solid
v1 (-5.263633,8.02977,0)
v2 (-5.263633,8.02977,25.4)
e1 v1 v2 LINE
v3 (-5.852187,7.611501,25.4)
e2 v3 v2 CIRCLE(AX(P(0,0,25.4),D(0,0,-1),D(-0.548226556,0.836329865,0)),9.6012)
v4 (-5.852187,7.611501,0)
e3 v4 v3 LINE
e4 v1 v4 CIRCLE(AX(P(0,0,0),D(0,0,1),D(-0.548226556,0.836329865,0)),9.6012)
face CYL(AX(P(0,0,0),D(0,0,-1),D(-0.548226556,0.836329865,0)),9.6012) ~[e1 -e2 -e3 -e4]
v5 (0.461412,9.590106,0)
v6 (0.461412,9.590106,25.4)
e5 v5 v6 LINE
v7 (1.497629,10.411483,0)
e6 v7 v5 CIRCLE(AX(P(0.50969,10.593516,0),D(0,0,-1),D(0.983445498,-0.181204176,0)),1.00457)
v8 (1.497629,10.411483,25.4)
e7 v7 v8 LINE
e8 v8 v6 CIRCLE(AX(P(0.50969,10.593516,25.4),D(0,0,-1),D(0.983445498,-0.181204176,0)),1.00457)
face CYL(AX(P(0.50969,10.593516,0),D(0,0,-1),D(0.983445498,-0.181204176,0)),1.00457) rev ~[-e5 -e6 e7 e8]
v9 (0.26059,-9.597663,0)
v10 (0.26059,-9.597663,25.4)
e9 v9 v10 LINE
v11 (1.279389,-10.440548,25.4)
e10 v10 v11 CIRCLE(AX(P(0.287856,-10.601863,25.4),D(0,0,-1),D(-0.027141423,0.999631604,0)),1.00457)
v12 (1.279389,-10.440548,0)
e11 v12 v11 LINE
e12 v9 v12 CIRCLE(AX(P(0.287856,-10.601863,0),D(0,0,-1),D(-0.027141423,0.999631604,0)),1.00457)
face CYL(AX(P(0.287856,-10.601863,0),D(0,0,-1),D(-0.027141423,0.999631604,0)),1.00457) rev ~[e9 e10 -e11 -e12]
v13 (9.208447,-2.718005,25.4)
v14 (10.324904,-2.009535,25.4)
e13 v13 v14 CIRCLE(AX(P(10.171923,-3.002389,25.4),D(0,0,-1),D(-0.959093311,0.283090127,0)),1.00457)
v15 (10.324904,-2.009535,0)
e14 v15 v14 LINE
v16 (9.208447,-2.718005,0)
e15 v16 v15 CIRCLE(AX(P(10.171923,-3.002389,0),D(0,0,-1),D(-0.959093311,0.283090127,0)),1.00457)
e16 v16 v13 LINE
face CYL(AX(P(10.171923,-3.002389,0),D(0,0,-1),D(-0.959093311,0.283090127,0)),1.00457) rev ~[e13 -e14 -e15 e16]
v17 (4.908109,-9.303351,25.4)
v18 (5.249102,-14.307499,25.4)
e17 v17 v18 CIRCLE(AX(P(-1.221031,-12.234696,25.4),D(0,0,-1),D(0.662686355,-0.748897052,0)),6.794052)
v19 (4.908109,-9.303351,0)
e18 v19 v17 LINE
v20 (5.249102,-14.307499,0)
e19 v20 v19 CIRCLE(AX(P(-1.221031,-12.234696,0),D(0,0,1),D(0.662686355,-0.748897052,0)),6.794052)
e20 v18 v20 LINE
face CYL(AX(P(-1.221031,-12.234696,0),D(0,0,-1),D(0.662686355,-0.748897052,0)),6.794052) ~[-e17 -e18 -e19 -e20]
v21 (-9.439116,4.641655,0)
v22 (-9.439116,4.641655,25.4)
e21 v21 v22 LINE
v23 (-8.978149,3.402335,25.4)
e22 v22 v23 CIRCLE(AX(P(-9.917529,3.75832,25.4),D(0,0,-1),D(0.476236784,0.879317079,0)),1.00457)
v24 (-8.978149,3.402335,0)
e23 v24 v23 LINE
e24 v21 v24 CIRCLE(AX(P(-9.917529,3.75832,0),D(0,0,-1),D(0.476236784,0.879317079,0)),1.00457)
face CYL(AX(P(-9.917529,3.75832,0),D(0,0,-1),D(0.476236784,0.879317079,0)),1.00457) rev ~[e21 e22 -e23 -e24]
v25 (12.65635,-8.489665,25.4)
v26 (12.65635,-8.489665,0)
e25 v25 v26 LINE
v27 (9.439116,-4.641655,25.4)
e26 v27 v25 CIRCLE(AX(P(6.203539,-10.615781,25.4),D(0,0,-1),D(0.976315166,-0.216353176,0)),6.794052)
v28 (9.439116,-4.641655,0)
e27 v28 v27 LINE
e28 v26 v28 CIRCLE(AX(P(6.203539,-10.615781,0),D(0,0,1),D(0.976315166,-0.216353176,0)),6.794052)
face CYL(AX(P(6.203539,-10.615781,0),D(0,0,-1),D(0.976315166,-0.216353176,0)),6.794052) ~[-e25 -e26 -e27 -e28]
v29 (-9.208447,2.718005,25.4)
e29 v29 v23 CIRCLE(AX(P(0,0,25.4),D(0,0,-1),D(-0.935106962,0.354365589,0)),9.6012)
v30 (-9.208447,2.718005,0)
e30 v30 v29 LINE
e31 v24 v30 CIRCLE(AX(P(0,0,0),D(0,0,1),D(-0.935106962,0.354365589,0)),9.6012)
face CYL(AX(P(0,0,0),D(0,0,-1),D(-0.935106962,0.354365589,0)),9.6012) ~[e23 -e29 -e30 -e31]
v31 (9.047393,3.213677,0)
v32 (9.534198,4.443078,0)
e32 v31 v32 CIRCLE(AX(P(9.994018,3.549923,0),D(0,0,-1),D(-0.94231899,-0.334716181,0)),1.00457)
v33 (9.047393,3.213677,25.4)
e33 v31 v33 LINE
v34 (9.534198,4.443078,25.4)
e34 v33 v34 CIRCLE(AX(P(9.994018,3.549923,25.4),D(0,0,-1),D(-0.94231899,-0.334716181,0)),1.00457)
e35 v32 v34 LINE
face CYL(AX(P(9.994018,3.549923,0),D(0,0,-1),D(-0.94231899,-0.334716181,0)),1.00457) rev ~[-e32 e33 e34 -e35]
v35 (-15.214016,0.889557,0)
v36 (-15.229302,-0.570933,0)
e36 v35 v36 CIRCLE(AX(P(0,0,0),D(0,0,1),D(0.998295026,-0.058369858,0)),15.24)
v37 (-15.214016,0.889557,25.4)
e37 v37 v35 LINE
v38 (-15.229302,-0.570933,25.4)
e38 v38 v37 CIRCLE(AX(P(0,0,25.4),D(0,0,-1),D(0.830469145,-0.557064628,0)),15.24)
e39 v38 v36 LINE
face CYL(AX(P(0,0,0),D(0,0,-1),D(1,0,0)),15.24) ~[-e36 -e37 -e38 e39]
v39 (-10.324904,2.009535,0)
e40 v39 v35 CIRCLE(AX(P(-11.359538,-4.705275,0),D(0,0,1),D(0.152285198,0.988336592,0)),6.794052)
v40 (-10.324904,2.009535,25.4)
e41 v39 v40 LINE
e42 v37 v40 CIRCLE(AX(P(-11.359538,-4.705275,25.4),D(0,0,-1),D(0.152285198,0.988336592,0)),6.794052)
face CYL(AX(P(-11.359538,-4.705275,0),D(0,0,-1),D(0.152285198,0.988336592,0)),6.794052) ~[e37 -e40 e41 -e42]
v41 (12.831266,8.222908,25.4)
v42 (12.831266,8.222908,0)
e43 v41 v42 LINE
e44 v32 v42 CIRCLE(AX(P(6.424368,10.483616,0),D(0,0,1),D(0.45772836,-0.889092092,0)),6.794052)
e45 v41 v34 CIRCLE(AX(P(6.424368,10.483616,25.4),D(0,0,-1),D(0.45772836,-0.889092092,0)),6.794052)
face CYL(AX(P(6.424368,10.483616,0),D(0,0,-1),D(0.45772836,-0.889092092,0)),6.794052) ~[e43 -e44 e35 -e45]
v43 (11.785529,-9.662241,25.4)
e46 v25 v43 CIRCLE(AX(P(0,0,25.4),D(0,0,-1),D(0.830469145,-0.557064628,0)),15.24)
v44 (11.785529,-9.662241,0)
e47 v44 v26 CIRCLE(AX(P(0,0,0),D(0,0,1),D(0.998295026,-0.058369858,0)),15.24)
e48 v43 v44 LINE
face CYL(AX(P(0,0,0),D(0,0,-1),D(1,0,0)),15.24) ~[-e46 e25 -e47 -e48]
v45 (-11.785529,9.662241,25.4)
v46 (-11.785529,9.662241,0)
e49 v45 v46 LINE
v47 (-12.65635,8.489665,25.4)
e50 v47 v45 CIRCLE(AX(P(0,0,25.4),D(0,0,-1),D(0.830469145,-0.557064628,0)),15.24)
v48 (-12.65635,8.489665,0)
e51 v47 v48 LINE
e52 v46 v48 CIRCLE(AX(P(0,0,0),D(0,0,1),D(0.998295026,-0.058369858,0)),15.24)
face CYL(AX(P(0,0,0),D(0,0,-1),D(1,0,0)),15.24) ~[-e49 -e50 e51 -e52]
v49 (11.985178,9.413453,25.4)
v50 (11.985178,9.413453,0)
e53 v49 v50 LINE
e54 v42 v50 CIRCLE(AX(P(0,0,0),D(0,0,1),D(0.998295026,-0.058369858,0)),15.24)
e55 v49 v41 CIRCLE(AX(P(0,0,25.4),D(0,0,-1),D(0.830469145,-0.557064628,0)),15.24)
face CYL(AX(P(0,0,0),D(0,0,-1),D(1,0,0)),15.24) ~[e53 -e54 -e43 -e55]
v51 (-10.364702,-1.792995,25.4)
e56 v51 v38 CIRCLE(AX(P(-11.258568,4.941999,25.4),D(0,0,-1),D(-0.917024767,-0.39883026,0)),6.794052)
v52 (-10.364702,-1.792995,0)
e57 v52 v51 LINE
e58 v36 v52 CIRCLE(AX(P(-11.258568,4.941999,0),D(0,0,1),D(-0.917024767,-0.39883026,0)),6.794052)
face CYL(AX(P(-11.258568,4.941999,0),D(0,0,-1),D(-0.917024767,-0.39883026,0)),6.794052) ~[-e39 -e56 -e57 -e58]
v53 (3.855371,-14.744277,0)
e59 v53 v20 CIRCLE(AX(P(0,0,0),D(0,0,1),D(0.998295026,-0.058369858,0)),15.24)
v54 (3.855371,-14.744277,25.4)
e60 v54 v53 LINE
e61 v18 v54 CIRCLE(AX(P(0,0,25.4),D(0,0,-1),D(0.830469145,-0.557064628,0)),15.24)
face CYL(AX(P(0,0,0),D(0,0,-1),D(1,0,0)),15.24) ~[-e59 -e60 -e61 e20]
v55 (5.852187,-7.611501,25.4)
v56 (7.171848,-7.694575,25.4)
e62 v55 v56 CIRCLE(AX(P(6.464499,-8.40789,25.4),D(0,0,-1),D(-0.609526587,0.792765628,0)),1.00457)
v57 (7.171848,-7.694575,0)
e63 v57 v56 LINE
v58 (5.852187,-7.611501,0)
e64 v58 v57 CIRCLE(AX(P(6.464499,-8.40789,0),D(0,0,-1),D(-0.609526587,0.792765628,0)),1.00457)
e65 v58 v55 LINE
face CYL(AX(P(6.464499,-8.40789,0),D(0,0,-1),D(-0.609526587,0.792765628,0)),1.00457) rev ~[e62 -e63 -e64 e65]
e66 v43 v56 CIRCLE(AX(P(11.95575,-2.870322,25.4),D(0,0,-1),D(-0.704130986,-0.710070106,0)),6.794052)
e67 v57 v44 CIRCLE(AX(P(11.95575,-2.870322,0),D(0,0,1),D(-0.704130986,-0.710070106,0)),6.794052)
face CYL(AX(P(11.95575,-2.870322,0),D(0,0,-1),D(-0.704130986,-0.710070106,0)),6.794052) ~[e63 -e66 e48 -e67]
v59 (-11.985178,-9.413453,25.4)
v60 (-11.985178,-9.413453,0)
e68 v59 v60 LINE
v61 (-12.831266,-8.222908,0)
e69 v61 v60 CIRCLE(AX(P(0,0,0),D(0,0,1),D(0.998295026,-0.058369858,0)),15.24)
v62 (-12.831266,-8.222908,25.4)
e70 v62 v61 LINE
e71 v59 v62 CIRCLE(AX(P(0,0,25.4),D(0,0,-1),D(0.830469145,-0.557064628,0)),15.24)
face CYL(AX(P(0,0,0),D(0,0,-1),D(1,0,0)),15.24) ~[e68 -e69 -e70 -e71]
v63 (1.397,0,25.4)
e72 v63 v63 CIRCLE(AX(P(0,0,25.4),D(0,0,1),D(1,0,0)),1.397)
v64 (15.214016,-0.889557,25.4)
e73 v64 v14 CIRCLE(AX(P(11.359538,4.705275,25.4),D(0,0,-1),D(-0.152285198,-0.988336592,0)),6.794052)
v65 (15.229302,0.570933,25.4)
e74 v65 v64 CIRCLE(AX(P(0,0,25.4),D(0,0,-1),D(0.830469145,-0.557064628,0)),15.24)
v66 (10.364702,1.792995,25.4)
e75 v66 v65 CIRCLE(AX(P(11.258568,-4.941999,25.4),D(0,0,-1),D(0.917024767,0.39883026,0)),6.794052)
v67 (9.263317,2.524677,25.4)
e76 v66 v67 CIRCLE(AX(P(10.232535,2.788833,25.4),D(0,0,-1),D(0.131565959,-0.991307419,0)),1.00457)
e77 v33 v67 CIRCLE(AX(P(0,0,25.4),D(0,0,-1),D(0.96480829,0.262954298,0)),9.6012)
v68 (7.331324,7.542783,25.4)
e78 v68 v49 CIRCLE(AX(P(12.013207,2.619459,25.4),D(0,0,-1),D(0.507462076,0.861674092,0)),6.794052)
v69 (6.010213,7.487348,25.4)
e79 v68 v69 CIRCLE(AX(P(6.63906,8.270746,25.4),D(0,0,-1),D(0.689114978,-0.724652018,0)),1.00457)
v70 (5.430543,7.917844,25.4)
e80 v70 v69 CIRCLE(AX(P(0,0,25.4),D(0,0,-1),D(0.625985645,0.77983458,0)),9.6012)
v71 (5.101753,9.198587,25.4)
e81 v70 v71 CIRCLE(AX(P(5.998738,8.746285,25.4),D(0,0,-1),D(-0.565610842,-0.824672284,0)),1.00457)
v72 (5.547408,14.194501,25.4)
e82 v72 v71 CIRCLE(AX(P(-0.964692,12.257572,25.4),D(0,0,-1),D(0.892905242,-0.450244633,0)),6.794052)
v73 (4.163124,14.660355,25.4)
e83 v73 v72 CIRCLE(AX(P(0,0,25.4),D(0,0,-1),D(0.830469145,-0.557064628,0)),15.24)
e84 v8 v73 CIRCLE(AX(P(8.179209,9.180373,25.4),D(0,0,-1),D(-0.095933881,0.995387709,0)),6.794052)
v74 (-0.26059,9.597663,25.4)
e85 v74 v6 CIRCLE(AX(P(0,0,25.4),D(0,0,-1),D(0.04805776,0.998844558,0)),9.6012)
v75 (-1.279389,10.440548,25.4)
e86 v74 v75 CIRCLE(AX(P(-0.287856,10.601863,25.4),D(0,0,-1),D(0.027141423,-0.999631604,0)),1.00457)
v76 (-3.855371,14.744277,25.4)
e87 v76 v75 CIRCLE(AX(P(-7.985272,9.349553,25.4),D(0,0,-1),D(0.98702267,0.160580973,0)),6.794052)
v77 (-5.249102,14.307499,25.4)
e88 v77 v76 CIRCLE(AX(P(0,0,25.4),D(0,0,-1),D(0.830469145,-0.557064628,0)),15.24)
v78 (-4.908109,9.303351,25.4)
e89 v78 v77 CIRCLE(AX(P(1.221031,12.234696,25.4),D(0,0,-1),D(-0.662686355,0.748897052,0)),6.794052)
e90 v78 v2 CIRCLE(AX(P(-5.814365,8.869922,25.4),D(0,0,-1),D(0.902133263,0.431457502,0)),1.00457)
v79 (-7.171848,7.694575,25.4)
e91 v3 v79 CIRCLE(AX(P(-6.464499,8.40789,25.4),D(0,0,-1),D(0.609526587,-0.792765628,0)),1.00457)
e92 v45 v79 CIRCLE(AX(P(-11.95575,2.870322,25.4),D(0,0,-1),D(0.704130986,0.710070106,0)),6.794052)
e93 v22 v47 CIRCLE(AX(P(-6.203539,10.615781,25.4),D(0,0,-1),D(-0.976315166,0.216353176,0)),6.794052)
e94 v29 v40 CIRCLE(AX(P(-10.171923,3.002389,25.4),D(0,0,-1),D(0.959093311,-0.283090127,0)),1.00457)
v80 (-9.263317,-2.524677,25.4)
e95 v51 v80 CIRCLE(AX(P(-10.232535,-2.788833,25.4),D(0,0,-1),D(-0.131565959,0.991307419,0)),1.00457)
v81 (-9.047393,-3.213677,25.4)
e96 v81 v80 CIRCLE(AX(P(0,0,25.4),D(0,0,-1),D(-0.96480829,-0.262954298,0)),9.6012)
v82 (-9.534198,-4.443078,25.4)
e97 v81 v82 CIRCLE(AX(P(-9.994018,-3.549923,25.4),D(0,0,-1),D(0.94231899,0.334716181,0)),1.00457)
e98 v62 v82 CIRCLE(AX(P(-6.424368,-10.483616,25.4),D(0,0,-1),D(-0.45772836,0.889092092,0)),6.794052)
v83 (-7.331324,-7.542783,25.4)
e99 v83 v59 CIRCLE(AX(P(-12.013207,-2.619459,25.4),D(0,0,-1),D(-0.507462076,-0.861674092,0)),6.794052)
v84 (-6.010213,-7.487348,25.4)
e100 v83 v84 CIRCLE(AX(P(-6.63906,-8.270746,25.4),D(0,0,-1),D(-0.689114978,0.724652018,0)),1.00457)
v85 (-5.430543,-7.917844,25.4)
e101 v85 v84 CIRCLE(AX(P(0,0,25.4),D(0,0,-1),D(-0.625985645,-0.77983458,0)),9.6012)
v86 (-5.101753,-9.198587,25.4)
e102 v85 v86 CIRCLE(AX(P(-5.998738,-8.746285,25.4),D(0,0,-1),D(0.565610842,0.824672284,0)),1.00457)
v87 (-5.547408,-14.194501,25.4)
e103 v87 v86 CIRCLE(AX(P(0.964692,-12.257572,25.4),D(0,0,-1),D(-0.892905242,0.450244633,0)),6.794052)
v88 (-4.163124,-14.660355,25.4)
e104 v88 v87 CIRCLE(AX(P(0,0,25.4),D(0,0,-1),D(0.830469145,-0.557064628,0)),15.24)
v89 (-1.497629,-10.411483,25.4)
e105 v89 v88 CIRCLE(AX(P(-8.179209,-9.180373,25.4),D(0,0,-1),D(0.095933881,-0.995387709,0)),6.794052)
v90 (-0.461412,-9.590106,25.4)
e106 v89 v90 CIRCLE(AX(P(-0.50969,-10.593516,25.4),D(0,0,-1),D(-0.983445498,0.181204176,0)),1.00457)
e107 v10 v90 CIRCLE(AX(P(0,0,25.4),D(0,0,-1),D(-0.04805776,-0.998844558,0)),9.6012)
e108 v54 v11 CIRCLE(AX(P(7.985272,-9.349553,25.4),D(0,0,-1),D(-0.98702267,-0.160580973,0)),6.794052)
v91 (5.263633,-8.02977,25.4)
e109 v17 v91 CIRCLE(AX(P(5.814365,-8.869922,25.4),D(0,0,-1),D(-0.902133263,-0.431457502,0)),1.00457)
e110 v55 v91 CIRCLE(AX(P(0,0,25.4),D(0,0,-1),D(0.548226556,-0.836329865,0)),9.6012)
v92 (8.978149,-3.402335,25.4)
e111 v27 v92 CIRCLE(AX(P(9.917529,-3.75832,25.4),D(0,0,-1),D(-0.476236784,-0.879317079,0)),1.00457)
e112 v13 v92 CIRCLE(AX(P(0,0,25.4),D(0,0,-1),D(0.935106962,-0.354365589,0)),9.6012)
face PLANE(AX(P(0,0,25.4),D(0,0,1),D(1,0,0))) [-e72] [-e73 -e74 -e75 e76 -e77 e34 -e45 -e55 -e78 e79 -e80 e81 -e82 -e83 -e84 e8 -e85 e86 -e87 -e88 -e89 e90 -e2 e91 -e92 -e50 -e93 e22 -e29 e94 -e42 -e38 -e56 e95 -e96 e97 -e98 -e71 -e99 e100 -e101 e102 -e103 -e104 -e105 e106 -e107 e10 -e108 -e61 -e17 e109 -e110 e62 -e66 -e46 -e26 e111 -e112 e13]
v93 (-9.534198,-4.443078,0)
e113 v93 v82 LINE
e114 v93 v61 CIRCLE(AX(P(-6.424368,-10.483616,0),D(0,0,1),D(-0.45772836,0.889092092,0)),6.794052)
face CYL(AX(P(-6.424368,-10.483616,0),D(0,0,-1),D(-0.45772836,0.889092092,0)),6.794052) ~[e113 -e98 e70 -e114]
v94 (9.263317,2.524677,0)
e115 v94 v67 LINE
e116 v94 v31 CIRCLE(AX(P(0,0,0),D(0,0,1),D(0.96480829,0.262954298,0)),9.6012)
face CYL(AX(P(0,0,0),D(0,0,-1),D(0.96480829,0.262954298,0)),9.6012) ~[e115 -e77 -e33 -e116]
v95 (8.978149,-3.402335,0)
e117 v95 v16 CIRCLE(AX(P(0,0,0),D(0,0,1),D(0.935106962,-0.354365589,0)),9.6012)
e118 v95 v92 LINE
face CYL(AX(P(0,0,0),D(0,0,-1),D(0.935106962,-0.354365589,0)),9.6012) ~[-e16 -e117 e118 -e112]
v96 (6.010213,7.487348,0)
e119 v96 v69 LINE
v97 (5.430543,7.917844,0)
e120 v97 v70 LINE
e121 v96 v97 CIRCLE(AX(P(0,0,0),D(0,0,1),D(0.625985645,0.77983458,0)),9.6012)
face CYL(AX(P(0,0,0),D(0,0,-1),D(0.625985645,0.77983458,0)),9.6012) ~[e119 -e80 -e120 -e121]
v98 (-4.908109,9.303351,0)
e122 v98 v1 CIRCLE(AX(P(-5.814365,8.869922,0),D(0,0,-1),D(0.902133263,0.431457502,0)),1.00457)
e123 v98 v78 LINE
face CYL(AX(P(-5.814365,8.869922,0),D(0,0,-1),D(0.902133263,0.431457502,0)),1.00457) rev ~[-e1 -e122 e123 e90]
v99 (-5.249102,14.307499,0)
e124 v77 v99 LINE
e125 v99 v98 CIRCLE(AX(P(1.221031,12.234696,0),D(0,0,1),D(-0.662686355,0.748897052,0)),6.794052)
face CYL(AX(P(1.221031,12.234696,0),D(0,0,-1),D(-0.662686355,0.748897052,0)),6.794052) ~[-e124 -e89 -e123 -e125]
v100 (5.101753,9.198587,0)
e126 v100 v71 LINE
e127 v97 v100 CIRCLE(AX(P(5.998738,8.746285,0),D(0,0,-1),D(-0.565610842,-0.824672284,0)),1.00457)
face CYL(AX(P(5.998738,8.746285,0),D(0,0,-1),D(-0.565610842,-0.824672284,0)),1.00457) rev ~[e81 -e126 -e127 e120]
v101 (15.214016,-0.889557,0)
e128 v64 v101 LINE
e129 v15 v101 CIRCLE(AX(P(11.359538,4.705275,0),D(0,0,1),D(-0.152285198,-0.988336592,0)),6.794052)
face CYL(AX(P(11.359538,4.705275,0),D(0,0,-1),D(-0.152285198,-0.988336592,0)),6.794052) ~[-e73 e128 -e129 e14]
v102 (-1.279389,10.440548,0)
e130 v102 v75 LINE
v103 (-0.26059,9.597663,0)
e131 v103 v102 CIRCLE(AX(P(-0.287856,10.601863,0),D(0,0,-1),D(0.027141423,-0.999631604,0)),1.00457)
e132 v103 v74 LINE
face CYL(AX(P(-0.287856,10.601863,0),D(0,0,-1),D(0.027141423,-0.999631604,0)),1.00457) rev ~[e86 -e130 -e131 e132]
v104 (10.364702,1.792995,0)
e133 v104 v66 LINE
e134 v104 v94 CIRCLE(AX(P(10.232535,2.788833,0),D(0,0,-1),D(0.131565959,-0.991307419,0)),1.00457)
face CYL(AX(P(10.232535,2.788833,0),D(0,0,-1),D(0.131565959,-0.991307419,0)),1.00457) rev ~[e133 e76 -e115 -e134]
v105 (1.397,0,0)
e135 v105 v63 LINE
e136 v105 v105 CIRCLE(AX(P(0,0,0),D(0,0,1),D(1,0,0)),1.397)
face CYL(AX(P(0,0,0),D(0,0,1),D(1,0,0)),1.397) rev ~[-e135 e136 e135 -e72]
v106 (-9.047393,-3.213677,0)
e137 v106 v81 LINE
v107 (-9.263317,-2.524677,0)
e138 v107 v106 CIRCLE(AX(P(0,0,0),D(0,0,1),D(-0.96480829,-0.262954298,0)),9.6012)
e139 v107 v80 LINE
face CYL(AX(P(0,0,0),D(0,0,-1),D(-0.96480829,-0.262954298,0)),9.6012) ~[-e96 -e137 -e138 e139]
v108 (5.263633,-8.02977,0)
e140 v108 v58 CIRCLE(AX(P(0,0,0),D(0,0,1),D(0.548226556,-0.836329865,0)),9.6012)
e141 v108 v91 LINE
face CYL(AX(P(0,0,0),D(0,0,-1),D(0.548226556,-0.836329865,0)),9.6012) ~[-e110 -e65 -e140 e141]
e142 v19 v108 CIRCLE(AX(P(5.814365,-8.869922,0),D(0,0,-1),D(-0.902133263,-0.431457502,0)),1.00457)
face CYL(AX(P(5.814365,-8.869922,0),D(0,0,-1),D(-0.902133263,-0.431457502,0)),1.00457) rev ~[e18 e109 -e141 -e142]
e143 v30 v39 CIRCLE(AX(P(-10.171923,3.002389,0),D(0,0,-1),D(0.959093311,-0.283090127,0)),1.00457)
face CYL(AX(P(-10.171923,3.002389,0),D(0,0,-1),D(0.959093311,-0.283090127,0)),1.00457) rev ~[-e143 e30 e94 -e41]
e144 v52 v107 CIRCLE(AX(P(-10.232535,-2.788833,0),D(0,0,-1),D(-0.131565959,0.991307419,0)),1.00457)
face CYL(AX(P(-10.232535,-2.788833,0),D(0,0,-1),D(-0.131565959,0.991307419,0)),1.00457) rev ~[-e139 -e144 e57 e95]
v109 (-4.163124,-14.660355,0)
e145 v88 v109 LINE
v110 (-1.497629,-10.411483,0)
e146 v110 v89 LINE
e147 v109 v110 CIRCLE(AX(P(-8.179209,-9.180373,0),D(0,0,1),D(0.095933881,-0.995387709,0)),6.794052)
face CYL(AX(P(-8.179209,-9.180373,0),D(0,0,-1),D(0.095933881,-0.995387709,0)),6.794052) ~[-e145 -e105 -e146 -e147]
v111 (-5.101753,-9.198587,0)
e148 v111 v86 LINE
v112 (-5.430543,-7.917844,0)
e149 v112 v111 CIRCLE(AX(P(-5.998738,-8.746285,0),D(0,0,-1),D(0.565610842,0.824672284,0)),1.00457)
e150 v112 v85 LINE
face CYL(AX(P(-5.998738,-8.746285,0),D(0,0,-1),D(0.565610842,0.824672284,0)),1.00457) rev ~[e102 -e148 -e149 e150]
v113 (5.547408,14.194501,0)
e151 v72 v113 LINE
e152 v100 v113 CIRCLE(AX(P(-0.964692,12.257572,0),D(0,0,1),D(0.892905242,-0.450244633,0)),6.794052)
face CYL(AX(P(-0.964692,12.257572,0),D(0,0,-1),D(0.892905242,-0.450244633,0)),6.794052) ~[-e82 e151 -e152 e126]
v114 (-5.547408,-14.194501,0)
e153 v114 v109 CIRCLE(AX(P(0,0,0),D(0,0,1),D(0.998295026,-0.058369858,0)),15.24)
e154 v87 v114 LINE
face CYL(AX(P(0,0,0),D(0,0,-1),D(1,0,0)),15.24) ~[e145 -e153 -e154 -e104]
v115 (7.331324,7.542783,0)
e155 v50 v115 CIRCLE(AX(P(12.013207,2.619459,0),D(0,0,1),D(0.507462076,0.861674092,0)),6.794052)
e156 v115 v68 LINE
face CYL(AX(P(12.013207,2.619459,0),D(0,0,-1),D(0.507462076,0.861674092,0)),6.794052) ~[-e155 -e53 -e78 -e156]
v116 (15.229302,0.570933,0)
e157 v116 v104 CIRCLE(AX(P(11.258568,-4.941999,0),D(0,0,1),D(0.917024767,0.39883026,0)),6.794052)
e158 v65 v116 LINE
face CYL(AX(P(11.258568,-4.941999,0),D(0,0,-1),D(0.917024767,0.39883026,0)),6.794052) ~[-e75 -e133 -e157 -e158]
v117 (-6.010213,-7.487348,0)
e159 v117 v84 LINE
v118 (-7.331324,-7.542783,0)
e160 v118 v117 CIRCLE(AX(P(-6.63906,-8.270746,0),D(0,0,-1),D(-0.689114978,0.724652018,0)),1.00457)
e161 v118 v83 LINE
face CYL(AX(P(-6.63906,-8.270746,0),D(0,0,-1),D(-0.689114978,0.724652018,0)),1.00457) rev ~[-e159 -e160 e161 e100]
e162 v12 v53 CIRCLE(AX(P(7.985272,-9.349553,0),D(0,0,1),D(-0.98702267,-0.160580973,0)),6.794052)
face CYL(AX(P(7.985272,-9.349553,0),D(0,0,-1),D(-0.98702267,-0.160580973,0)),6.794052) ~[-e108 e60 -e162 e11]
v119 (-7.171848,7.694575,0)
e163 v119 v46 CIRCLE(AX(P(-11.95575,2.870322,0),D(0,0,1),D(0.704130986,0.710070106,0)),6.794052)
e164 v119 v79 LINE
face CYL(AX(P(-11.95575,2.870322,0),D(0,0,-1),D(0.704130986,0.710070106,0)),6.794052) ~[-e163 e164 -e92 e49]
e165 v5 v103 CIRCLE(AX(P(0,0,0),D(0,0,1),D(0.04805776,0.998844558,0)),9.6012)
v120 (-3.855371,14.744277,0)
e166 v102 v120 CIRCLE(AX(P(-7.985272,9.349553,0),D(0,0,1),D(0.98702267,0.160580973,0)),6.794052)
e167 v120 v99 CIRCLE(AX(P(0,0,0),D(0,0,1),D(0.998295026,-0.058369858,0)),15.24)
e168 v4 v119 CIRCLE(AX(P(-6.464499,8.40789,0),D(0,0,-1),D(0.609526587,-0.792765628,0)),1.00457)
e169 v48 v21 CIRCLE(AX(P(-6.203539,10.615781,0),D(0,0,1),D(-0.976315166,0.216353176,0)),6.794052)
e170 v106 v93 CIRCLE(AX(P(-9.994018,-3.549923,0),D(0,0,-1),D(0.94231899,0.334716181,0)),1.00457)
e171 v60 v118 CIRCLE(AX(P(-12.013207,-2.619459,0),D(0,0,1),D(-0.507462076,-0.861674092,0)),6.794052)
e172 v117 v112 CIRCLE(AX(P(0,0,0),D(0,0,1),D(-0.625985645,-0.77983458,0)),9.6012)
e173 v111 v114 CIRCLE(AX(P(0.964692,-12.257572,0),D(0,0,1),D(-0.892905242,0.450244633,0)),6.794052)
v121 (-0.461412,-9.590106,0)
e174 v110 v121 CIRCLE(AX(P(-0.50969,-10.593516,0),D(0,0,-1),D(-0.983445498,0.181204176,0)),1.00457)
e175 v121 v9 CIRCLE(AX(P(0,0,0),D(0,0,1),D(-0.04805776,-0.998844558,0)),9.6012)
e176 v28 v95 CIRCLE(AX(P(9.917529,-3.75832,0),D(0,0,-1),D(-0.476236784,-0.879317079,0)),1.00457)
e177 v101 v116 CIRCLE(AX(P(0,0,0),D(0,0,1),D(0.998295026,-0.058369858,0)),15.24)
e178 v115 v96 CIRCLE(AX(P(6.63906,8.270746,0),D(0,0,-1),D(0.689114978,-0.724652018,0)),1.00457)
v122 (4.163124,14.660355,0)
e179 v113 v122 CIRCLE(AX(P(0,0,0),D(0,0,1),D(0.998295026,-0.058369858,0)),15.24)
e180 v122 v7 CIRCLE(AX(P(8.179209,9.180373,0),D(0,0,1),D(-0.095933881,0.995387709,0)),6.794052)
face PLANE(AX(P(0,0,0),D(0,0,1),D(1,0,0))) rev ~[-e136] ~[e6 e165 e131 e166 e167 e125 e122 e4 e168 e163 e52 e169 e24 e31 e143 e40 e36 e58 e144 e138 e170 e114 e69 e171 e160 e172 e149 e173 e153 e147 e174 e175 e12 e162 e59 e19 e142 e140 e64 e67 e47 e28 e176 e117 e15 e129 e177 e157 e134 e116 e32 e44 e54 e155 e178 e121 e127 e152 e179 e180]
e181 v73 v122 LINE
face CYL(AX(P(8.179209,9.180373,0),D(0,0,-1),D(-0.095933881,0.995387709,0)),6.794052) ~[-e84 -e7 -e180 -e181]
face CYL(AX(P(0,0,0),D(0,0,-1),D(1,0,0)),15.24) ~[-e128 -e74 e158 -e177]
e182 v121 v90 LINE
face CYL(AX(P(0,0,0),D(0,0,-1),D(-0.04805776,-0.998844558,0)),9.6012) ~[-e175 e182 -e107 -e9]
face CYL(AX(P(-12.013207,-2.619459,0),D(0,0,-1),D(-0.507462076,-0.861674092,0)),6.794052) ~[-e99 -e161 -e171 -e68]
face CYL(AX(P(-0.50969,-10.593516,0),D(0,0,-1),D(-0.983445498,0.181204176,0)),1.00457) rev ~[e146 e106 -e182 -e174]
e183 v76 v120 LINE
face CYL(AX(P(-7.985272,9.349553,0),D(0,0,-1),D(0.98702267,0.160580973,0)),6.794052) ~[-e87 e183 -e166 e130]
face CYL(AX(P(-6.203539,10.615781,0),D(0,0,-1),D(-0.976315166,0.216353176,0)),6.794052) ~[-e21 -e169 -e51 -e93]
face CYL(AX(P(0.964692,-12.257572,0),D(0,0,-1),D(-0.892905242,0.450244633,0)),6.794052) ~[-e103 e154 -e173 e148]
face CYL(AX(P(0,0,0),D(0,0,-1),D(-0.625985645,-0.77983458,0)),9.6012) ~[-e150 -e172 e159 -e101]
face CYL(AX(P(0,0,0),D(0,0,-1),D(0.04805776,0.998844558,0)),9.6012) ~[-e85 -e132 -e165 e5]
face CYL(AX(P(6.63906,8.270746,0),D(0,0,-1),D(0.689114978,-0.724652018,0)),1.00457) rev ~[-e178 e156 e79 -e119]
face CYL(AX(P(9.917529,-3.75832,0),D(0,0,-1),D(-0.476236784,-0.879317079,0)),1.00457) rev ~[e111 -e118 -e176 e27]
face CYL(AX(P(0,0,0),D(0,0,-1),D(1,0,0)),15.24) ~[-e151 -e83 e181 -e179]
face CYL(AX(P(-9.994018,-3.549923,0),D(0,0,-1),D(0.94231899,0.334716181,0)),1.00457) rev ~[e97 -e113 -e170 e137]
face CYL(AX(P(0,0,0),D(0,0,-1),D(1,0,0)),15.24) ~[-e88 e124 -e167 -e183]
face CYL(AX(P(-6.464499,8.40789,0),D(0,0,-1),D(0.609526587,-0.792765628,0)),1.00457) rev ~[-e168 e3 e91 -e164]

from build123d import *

# Parameters (mm, degrees)
SKETCH3_R         = 15.24
GEARBODY_DEPTH    = 25.4
TOOTHCUT_DEPTH    = 34.311787703
CIRPATTERN1_COUNT = 10
BOREDIA_R         = 1.396999992
BORE_DEPTH        = 12700


with BuildPart() as part:
    # Sketch3 → gearBody (new body)
    with BuildSketch(Plane.XY):
        Circle(SKETCH3_R)
    extrude(amount=GEARBODY_DEPTH)

    # Sketch2 → toothCut (cut, through all)
    with BuildSketch(Plane.XY):
        with BuildLine():
            ThreePointArc((8.978148959, -3.402334891), (9.099733091, -3.062335565), (9.208446704, -2.718004919))
            ThreePointArc((9.208446704, -2.718004919), (9.633677899, -2.154183003), (10.324904213, -2.009535477))
            ThreePointArc((10.324904213, -2.009535477), (14.577189645, -1.27852495), (17.531773304, 1.865794244))
            ThreePointArc((17.531773304, 1.865794244), (16.709927513, -5.623396291), (12.836674632, -12.085695996))
            ThreePointArc((12.836674632, -12.085695996), (12.384259618, -7.794818645), (9.439116174, -4.64165549))
            ThreePointArc((9.439116174, -4.64165549), (8.975980875, -4.108530348), (8.978148959, -3.402334891))
        make_face()
    toothcut = extrude(amount=TOOTHCUT_DEPTH, mode=Mode.SUBTRACT)

    # CirPattern1: toothCut ×10 about axis
    cirpattern1_axis = Axis((0, 0, 25.4), (0, 0, -1))
    for i in range(1, CIRPATTERN1_COUNT):
        add(toothcut.rotate(cirpattern1_axis, i * 360 / CIRPATTERN1_COUNT), mode=Mode.SUBTRACT)

    # boreDia → bore (cut, symmetric)
    with BuildSketch(Plane.XY):
        Circle(BOREDIA_R)
    extrude(amount=BORE_DEPTH, both=True, mode=Mode.SUBTRACT)


solid = part.part
